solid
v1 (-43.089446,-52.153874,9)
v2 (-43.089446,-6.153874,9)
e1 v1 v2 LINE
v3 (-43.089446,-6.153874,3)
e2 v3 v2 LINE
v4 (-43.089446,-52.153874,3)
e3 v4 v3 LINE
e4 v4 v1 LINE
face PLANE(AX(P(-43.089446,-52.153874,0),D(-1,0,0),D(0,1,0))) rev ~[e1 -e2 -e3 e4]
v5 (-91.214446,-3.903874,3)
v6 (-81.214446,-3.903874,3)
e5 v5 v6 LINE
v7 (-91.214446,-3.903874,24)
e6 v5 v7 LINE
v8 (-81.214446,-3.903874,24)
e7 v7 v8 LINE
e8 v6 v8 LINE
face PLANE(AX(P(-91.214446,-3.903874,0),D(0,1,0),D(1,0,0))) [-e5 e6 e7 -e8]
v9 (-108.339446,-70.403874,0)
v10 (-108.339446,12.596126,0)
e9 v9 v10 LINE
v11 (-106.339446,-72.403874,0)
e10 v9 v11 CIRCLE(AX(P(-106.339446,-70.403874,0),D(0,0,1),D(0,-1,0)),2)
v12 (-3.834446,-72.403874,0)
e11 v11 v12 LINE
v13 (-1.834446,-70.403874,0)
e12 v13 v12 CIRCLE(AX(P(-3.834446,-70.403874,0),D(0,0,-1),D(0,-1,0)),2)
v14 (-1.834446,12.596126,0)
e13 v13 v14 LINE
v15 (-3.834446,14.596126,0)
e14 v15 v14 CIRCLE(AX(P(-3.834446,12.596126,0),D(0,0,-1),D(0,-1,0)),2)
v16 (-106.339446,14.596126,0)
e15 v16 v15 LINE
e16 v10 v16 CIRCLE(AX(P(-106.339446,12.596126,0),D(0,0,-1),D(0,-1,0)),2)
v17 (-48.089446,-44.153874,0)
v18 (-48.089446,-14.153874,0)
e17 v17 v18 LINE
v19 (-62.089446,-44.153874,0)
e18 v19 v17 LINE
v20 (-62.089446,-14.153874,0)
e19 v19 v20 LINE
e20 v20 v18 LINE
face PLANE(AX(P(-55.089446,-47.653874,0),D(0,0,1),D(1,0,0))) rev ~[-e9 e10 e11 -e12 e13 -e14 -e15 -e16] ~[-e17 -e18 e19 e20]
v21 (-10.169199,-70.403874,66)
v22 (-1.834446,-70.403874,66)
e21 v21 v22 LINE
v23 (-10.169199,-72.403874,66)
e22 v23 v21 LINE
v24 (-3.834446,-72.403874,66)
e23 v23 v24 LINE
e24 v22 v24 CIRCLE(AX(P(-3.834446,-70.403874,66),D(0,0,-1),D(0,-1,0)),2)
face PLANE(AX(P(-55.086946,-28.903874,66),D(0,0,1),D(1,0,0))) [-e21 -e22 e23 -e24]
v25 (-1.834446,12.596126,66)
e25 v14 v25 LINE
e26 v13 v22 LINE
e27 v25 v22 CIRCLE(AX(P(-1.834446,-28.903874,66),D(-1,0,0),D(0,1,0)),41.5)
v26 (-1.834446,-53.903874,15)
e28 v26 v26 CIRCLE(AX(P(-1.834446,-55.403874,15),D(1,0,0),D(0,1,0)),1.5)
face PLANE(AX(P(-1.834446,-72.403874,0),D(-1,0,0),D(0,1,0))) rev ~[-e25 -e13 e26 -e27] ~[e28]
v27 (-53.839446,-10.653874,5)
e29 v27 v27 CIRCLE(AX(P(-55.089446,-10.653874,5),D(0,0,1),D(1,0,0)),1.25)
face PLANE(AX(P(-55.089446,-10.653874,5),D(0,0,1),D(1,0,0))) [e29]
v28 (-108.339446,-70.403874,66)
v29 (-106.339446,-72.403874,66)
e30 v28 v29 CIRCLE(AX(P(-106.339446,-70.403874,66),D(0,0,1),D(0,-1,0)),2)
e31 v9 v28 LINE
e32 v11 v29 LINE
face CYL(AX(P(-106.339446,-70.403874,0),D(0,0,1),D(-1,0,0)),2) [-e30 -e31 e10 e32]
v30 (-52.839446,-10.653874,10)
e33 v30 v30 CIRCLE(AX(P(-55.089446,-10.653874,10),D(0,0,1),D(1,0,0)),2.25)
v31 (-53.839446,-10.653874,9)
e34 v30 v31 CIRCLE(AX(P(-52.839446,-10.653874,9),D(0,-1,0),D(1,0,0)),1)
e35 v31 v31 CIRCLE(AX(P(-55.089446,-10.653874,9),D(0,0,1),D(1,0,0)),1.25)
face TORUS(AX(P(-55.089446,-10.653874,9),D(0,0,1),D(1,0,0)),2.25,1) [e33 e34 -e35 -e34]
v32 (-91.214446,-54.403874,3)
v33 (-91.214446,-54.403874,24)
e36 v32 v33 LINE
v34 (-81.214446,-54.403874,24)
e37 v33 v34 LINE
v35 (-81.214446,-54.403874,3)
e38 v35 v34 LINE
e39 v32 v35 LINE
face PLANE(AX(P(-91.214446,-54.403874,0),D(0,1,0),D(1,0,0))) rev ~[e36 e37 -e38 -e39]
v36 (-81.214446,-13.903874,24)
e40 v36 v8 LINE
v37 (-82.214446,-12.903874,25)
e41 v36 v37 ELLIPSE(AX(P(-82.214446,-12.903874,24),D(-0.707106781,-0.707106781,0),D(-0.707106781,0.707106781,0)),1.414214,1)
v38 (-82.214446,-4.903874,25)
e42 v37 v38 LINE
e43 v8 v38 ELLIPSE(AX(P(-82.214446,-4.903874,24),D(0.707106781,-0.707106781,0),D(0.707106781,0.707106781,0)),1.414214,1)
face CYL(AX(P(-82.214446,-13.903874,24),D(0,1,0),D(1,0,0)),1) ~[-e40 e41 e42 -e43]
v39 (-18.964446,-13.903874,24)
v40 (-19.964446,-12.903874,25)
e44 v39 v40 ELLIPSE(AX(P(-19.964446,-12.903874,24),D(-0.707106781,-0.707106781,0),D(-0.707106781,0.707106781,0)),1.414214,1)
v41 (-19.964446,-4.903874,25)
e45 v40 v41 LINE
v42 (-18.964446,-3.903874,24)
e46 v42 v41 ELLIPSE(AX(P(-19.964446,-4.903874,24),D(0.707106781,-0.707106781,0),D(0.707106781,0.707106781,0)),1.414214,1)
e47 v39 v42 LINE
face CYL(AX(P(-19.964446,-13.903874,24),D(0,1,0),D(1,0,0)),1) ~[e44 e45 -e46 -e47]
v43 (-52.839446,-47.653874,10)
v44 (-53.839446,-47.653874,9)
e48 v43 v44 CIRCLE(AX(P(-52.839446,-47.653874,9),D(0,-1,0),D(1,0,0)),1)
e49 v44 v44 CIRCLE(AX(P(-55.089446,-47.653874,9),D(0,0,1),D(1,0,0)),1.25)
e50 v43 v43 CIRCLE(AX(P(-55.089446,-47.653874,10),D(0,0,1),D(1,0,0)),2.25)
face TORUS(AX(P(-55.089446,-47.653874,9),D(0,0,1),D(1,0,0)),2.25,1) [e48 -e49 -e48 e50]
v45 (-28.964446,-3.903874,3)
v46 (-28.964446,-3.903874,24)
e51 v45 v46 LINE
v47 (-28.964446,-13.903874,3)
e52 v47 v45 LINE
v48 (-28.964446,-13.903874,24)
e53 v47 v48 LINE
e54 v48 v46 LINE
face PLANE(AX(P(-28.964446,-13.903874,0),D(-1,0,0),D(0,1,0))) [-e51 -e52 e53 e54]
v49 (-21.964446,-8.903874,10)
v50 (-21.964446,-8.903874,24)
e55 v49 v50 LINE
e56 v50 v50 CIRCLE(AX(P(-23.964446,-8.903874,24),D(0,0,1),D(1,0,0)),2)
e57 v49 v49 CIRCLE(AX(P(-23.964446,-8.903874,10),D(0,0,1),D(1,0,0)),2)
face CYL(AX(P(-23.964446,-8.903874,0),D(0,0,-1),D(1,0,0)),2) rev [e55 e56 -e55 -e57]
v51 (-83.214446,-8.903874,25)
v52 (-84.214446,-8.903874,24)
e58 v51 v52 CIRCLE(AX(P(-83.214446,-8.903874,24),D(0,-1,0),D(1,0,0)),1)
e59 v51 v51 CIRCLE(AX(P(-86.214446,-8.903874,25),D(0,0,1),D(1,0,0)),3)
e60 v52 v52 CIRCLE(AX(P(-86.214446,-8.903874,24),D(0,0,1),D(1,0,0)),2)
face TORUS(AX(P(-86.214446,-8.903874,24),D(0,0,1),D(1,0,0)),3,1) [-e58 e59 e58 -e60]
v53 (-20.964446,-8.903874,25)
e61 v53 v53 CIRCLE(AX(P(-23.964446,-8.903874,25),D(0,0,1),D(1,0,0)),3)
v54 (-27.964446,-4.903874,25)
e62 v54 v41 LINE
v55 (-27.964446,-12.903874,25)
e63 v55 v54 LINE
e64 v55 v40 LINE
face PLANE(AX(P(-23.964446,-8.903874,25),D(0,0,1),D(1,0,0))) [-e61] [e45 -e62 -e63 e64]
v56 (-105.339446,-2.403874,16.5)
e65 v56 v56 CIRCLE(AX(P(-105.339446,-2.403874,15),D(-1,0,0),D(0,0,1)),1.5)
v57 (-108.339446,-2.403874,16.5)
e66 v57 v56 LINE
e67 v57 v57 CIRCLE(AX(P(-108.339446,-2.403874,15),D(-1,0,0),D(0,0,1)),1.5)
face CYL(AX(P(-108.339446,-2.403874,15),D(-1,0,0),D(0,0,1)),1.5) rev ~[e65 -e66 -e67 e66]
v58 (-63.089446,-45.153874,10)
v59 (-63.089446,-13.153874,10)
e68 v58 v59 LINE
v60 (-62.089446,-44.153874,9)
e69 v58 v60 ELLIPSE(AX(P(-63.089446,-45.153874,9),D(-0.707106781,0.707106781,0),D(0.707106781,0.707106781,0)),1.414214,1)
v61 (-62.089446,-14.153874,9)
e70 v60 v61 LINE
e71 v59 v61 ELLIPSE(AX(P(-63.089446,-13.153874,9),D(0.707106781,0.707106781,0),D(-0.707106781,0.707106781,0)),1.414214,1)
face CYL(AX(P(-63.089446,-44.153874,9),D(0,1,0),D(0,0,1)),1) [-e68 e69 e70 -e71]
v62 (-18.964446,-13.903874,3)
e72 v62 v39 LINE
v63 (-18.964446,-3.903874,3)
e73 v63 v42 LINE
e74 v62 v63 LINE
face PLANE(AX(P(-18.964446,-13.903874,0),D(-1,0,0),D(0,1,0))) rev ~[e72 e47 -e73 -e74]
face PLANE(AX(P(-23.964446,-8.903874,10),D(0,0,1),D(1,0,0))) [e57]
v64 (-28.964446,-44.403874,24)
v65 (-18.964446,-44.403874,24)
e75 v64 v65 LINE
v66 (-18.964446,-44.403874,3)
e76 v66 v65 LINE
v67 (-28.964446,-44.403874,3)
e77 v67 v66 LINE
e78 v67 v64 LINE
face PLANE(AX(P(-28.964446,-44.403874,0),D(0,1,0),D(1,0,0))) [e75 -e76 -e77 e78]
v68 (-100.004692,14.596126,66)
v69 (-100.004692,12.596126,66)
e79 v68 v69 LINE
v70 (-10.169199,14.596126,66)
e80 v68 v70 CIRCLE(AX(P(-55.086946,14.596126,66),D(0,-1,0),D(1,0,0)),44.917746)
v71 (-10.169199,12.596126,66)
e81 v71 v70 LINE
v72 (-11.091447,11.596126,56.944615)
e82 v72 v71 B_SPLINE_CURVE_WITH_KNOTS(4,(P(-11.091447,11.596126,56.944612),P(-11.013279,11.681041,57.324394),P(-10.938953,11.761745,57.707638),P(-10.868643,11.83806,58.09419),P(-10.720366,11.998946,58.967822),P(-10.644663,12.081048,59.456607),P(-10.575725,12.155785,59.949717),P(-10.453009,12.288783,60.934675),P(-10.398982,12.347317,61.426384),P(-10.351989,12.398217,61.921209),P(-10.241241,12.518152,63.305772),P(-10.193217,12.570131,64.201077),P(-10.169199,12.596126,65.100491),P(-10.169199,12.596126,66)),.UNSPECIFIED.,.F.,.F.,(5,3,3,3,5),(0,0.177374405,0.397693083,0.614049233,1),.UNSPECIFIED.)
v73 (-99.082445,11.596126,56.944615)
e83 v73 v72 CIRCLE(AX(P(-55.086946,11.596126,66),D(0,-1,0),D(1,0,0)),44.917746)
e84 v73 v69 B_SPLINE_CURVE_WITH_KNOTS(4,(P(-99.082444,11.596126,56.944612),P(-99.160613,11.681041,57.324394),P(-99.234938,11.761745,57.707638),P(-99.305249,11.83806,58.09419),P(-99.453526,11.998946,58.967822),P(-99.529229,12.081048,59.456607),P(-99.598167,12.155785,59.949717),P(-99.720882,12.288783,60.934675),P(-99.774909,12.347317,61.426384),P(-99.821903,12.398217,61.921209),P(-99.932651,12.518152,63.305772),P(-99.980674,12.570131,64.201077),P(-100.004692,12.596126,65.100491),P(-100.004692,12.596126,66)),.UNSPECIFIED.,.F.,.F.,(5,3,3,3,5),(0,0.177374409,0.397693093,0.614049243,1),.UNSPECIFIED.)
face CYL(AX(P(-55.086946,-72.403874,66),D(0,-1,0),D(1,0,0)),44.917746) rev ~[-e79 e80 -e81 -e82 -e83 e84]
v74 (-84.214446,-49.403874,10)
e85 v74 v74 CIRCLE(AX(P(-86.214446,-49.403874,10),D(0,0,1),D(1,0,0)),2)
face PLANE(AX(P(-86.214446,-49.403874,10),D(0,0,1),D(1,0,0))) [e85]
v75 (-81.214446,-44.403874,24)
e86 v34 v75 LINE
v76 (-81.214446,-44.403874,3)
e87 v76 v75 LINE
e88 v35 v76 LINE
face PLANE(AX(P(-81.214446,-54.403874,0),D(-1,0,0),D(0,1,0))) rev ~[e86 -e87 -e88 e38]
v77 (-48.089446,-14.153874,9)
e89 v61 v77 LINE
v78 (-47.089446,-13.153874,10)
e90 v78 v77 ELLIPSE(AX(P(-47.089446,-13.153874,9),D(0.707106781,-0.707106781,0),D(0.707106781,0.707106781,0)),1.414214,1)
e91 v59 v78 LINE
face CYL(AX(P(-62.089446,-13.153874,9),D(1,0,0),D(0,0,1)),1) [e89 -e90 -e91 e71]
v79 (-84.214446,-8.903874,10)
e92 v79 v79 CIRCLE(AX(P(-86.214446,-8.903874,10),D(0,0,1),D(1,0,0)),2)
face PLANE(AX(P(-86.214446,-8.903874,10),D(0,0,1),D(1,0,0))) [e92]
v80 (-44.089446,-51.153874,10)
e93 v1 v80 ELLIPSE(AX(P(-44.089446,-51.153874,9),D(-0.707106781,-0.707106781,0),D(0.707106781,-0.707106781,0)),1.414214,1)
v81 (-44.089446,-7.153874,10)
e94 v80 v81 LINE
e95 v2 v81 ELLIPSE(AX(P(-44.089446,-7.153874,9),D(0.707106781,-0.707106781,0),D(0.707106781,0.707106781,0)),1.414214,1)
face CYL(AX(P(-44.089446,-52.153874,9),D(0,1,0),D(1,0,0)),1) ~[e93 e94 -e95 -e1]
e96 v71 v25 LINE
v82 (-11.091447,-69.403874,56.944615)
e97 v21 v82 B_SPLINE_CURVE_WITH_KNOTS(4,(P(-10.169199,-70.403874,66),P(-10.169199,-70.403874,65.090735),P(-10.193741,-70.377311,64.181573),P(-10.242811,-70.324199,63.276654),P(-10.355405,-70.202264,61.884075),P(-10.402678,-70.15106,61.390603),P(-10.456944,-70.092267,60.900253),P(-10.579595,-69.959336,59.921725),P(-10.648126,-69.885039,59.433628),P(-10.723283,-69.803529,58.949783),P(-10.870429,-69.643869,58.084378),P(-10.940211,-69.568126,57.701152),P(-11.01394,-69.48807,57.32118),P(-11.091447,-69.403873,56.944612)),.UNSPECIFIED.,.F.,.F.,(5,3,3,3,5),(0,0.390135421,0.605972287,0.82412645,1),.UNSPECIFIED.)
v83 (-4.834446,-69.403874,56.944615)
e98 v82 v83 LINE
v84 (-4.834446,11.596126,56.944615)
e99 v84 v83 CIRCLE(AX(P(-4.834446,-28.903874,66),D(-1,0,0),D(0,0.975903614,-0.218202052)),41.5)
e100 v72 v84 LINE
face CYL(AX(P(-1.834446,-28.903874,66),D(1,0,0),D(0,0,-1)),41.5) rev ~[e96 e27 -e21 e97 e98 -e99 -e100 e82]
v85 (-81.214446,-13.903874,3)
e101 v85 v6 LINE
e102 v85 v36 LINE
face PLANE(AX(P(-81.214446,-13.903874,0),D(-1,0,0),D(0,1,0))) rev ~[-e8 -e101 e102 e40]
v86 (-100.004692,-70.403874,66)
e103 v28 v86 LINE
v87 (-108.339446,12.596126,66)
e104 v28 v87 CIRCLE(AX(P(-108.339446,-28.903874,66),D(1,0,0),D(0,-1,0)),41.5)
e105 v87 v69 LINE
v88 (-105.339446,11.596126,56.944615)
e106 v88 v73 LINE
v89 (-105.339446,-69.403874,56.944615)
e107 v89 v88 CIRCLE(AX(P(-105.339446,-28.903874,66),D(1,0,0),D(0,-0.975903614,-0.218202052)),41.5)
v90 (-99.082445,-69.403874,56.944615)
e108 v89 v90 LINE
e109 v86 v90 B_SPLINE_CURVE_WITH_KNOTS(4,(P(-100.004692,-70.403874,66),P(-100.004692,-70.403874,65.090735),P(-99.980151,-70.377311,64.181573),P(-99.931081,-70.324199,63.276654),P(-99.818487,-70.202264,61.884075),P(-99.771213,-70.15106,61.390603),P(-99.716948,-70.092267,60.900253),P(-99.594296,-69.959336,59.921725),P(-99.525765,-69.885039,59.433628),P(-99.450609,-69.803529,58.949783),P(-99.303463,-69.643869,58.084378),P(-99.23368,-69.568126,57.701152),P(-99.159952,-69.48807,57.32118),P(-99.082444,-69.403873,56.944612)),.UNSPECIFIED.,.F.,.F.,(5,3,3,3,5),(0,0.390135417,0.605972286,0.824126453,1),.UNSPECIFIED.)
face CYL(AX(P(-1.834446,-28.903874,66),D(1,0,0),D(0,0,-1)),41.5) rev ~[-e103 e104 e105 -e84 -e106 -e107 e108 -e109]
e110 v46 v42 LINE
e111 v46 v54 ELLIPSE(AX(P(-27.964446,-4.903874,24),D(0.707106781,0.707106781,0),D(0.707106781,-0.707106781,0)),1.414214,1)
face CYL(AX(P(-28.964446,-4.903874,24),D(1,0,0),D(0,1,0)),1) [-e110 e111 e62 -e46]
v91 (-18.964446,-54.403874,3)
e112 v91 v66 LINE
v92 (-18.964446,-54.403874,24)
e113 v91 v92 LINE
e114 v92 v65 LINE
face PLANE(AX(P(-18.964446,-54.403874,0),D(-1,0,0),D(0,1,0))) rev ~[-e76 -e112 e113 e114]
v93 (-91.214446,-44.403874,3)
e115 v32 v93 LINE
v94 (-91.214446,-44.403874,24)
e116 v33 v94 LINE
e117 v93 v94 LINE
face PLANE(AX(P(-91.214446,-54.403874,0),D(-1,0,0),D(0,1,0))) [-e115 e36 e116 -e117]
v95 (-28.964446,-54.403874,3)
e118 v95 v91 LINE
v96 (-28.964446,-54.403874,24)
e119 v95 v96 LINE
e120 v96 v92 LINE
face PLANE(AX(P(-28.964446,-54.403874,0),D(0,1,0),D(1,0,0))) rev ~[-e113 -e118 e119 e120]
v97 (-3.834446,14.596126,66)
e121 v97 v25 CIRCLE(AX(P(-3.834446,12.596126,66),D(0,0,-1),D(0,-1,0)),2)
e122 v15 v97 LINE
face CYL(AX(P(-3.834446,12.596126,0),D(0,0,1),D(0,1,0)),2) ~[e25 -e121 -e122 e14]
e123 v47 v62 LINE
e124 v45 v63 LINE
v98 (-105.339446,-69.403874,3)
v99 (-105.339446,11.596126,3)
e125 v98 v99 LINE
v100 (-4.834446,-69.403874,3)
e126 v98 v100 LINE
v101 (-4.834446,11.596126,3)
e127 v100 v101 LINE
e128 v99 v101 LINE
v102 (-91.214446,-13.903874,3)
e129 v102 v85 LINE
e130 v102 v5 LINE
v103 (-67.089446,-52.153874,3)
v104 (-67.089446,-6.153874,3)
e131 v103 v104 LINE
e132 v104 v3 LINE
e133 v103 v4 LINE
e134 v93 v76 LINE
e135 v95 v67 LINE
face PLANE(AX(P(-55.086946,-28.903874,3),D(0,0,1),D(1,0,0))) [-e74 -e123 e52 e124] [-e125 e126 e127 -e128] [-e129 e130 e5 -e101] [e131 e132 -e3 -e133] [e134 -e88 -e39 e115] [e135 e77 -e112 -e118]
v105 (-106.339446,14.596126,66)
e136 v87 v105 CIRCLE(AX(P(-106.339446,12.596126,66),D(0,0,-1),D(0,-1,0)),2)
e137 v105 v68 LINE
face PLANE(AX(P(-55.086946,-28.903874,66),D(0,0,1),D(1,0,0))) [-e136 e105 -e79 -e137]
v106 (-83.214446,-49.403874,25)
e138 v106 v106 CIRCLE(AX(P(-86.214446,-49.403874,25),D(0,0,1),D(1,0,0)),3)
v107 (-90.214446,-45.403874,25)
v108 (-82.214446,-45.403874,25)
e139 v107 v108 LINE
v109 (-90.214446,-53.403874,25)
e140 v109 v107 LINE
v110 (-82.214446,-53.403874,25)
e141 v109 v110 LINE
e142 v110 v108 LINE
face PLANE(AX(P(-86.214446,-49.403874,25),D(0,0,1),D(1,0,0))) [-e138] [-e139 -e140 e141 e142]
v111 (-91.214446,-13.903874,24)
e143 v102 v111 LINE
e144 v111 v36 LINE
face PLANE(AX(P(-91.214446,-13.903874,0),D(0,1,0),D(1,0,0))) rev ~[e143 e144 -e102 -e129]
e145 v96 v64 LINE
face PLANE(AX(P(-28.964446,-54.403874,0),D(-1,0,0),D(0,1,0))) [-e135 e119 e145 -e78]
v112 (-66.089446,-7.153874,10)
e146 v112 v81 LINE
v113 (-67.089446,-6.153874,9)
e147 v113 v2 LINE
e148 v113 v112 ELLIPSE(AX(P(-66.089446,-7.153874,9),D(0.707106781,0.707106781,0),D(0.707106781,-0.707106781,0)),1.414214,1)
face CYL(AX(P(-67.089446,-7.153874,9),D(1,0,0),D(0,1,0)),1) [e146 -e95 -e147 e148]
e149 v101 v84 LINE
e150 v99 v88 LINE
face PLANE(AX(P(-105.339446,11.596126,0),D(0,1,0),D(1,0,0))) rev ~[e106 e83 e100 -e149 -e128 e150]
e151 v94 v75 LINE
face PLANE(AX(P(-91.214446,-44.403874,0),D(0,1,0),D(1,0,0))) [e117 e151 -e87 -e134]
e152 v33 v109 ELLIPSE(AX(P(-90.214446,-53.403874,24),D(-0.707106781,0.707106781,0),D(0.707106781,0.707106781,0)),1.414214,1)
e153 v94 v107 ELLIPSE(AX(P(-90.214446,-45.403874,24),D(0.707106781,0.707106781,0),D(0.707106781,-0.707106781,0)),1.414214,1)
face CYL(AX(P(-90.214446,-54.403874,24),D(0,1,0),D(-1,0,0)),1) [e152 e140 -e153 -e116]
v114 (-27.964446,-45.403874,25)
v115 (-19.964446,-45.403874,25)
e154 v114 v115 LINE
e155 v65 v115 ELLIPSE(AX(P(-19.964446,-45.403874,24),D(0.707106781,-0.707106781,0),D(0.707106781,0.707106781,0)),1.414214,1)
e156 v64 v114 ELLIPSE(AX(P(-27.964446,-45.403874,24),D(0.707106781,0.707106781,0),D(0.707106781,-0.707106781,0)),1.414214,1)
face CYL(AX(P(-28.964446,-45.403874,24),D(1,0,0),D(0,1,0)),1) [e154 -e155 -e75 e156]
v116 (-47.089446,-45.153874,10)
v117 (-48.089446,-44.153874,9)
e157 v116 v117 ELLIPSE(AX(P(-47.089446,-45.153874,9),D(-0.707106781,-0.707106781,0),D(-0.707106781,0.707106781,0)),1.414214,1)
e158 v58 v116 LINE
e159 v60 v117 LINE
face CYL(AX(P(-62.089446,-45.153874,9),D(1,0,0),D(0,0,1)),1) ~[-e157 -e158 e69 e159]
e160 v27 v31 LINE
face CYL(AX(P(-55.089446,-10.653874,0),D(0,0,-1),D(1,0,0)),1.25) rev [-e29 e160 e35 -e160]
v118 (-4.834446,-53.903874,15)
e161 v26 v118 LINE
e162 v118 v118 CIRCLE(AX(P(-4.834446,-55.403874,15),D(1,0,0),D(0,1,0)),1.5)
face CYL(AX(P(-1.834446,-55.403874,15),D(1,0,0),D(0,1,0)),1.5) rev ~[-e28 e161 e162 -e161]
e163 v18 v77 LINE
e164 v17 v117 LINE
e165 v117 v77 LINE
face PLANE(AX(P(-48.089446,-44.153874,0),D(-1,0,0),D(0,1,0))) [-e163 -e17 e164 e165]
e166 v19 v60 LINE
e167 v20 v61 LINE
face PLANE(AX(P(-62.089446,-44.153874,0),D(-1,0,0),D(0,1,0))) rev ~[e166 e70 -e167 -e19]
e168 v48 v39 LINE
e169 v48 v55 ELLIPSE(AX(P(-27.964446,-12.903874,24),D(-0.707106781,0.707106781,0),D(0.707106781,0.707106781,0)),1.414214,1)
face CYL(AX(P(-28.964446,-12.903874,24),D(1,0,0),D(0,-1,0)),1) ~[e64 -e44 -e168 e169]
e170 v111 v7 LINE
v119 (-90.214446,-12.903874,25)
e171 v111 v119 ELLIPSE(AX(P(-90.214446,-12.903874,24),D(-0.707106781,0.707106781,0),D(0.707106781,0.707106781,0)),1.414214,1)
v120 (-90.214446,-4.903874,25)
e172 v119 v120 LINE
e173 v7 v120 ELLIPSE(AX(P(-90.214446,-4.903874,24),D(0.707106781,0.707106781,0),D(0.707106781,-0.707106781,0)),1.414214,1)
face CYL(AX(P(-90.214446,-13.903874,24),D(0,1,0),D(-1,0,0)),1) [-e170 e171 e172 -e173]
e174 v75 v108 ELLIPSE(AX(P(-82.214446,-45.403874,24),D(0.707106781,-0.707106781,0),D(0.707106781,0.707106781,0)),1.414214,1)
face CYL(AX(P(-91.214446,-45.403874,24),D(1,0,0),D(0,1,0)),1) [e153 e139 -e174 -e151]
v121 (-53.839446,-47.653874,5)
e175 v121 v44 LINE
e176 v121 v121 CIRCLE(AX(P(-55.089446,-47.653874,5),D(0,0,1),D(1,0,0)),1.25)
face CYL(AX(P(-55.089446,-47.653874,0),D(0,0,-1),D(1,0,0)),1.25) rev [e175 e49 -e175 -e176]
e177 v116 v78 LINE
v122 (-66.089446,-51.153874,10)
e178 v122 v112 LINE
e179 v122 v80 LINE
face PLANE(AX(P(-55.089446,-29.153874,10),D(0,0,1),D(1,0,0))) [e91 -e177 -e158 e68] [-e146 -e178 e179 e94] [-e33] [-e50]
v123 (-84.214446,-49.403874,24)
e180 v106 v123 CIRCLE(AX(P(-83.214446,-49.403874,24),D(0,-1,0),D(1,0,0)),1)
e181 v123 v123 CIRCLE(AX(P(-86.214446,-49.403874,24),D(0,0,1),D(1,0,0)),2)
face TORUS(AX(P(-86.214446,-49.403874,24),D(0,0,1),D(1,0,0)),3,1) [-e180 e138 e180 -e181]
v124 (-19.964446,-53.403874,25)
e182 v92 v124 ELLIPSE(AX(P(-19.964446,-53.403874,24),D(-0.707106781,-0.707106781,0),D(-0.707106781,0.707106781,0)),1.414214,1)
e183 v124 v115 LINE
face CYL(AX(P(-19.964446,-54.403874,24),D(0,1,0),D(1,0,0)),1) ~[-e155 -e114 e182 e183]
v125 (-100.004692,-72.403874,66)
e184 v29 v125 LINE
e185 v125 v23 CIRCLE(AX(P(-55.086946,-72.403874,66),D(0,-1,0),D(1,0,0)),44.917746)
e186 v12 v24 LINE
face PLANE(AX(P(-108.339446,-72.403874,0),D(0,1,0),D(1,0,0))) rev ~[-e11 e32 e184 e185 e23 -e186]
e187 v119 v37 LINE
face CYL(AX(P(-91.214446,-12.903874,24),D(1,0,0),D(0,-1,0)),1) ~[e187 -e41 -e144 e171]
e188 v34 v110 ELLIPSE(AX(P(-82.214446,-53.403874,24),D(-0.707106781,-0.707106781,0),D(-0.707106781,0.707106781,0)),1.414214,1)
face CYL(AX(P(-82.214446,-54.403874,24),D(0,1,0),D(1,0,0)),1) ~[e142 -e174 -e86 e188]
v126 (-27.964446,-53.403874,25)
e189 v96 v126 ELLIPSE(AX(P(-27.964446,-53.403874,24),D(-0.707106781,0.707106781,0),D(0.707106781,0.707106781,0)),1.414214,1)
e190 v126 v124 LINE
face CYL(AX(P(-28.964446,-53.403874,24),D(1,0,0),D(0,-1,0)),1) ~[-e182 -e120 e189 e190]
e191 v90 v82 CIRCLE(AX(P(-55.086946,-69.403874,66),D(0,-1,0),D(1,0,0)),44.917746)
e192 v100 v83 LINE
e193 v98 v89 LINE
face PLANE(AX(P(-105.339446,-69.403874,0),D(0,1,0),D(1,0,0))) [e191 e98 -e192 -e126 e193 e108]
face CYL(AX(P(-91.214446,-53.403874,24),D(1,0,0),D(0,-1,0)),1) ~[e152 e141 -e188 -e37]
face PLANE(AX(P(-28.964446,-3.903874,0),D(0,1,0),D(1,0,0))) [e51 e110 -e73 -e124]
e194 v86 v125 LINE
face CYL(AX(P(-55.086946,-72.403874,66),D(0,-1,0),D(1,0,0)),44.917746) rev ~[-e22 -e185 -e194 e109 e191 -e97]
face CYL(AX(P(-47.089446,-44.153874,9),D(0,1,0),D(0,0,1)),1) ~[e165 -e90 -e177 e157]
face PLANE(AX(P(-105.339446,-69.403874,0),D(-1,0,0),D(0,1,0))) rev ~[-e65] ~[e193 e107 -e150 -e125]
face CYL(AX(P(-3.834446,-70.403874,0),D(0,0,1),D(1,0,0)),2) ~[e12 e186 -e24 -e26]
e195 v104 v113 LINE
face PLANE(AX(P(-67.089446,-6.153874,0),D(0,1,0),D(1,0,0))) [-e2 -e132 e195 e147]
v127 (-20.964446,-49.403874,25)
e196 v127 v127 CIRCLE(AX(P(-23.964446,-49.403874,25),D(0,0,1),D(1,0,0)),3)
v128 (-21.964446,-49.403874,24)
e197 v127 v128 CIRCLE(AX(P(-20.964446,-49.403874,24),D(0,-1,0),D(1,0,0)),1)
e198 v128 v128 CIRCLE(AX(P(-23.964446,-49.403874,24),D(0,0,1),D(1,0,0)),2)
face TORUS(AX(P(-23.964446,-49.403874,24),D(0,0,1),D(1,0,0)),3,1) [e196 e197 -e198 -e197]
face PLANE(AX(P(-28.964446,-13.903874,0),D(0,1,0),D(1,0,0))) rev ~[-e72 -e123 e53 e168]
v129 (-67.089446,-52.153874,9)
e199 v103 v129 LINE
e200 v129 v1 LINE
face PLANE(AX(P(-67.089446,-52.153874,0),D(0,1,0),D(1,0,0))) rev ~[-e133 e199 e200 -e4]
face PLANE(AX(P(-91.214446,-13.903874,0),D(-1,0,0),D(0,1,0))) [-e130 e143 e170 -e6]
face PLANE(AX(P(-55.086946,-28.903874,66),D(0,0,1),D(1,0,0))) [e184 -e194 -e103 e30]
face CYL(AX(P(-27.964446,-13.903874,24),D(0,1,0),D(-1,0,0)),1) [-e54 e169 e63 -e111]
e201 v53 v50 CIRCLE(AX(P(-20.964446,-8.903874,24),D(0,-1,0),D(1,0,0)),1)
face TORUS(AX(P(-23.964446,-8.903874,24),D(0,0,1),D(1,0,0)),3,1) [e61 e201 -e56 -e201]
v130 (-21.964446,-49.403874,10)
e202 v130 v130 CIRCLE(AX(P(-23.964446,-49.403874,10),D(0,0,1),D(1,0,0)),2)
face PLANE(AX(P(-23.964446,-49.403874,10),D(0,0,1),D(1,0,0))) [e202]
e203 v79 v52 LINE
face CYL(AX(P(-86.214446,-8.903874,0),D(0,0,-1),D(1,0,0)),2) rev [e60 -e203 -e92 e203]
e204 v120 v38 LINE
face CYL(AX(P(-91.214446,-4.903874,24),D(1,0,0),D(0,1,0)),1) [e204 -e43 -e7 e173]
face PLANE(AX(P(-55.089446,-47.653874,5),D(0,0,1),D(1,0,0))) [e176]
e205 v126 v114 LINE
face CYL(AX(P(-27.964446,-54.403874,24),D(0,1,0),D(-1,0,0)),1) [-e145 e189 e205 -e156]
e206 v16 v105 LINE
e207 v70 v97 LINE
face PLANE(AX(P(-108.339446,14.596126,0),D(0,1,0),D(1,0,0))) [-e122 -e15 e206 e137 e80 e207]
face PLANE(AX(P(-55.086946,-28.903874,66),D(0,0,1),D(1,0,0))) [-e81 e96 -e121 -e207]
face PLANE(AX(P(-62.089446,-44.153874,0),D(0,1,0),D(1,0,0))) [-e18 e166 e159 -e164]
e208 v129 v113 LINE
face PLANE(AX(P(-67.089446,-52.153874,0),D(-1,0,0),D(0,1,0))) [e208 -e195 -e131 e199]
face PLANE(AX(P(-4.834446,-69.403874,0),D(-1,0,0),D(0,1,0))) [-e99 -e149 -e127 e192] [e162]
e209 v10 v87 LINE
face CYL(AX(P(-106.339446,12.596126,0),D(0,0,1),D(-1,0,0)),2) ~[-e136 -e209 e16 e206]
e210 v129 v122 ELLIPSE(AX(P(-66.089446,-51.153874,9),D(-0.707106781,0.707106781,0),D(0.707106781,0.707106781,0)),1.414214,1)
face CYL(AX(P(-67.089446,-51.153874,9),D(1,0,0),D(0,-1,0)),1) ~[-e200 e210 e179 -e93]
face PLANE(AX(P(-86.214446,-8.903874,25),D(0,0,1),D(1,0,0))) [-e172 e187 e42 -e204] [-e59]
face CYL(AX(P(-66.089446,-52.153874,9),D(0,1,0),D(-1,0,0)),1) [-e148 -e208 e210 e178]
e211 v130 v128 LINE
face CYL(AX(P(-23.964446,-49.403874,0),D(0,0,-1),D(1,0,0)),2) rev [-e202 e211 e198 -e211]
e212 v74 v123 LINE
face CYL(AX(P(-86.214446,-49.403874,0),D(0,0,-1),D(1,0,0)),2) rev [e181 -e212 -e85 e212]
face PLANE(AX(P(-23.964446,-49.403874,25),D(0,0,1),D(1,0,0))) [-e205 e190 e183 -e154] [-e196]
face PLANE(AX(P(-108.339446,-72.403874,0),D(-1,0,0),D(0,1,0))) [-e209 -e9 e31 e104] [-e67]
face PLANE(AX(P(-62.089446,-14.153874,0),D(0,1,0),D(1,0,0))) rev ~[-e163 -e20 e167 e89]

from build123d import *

# Parameters (mm, degrees)
ESQUISSE1_W             = 106.505
ESQUISSE1_H             = 87
ESQUISSE1_W_2           = 100.505
ESQUISSE1_H_2           = 81
BOSS_EXTRU_1_DEPTH      = 66
ESQUISSE1_35_W          = 100.505
ESQUISSE1_35_H          = 81
ESQUISSE1_35_W_2        = 10
ESQUISSE1_35_H_2        = 10
ESQUISSE1_35_W_3        = 24
ESQUISSE1_35_H_3        = 46
BOSS_EXTRU_2_DEPTH      = 3
CONG_1_R                = 2
CONG_2_R                = 2
CONG_4_R                = 2
CONG_5_R                = 2
ESQUISSE3_R             = 44.917746465
ENL_V_MAT_EXTRU_2_DEPTH = 111
ESQUISSE4_R             = 41.5
ENL_V_MAT_EXTRU_3_DEPTH = 111
ESQUISSE5_R             = 1.5
ENL_V_MAT_EXTRU_6_DEPTH = 5
ESQUISSE8_R             = 1.5
ENL_V_MAT_EXTRU_7_DEPTH = 15
ESQUISSE1_44_W          = 24
ESQUISSE1_44_H          = 46
ESQUISSE1_44_R          = 1.25
ESQUISSE1_44_W_2        = 14
ESQUISSE1_44_H_2        = 30
BOSS_EXTRU_9_DEPTH      = 10
ESQUISSE1_45_W          = 10
ESQUISSE1_45_H          = 10
ESQUISSE1_45_R          = 2
BOSS_EXTRU_10_DEPTH     = 25
ESQUISSE1_46_R          = 2
BOSS_EXTRU_11_DEPTH     = 10
ESQUISSE1_51_R          = 1.25
BOSS_EXTRU_12_DEPTH     = 5
CONG_9_R                = 1
CONG_10_R               = 1


with BuildPart() as part:
    # Esquisse1 → Boss.-Extru.1 (new body)
    with BuildSketch(Plane.XY):
        with Locations((-55.086945802, -28.903873598)):
            Rectangle(ESQUISSE1_W, ESQUISSE1_H)
        with Locations((-55.086945802, -28.903873598)):
            Rectangle(ESQUISSE1_W_2, ESQUISSE1_H_2, mode=Mode.SUBTRACT)
    extrude(amount=BOSS_EXTRU_1_DEPTH)

    # Esquisse1<35> → Boss.-Extru.2 (add)
    with BuildSketch(Plane.XY):
        with Locations((-55.086945802, -28.903873598)):
            Rectangle(ESQUISSE1_35_W, ESQUISSE1_35_H)
        with Locations((-86.214445802, -49.403873598)):
            Rectangle(ESQUISSE1_35_W_2, ESQUISSE1_35_H_2, mode=Mode.SUBTRACT)
        with Locations((-55.089445802, -29.153873598)):
            Rectangle(ESQUISSE1_35_W_3, ESQUISSE1_35_H_3, mode=Mode.SUBTRACT)
        with Locations((-23.964445802, -49.403873598)):
            Rectangle(ESQUISSE1_35_W_2, ESQUISSE1_35_H_2, mode=Mode.SUBTRACT)
        with Locations((-86.214445802, -8.903873598)):
            Rectangle(ESQUISSE1_35_W_2, ESQUISSE1_35_H_2, mode=Mode.SUBTRACT)
        with Locations((-23.964445802, -8.903873598)):
            Rectangle(ESQUISSE1_35_W_2, ESQUISSE1_35_H_2, mode=Mode.SUBTRACT)
    extrude(amount=BOSS_EXTRU_2_DEPTH)

    # Congé1
    cong_1_edges = [part.edges().sort_by_distance(p)[0] for p in [
        (-108.339445802, -72.403873598, 33),
    ]]
    fillet(cong_1_edges, radius=CONG_1_R)

    # Congé2
    cong_2_edges = [part.edges().sort_by_distance(p)[0] for p in [
        (-108.339445802, 14.596126402, 33),
    ]]
    fillet(cong_2_edges, radius=CONG_2_R)

    # Congé4
    cong_4_edges = [part.edges().sort_by_distance(p)[0] for p in [
        (-1.834445802, 14.596126402, 33),
    ]]
    fillet(cong_4_edges, radius=CONG_4_R)

    # Congé5
    cong_5_edges = [part.edges().sort_by_distance(p)[0] for p in [
        (-1.834445802, -72.403873598, 33),
    ]]
    fillet(cong_5_edges, radius=CONG_5_R)

    # Esquisse3 → Enlèv. mat.-Extru.2 (cut)
    with BuildSketch(Plane.XZ.offset(72.403873598)):
        with Locations((-55.086945802, 66)):
            Circle(ESQUISSE3_R)
    extrude(amount=-ENL_V_MAT_EXTRU_2_DEPTH, mode=Mode.SUBTRACT)

    # Esquisse4 → Enlèv. mat.-Extru.3 (cut)
    with BuildSketch(Plane(origin=(-1.834445802, 0, 0), x_dir=(0, 0, -1), z_dir=(1, 0, 0))):
        with Locations((-66, -28.903873598)):
            Circle(ESQUISSE4_R)
    extrude(amount=-ENL_V_MAT_EXTRU_3_DEPTH, mode=Mode.SUBTRACT)

    # Esquisse5 → Enlèv. mat.-Extru.6 (cut)
    with BuildSketch(Plane.ZY.offset(108.339445802)):
        with Locations((15, -2.403873598)):
            Circle(ESQUISSE5_R)
    extrude(amount=-ENL_V_MAT_EXTRU_6_DEPTH, mode=Mode.SUBTRACT)

    # Esquisse8 → Enlèv. mat.-Extru.7 (cut)
    with BuildSketch(Plane(origin=(-1.834445802, 0, 0), x_dir=(0, 0, -1), z_dir=(1, 0, 0))):
        with Locations((-15, -55.403873598)):
            Circle(ESQUISSE8_R)
    extrude(amount=-ENL_V_MAT_EXTRU_7_DEPTH, mode=Mode.SUBTRACT)

    # Esquisse1<44> → Boss.-Extru.9 (add)
    with BuildSketch(Plane.XY):
        with Locations((-55.089445802, -29.153873598)):
            Rectangle(ESQUISSE1_44_W, ESQUISSE1_44_H)
        with Locations((-55.089445802, -47.653873598)):
            Circle(ESQUISSE1_44_R, mode=Mode.SUBTRACT)
        with Locations((-55.089445802, -29.153873598)):
            Rectangle(ESQUISSE1_44_W_2, ESQUISSE1_44_H_2, mode=Mode.SUBTRACT)
        with Locations((-55.089445802, -10.653873598)):
            Circle(ESQUISSE1_44_R, mode=Mode.SUBTRACT)
    extrude(amount=BOSS_EXTRU_9_DEPTH)

    # Esquisse1<45> → Boss.-Extru.10 (add)
    # profile 1 of 4: a face of its own
    with BuildSketch(Plane.XY):
        with Locations((-86.214445802, -8.903873598)):
            Rectangle(ESQUISSE1_45_W, ESQUISSE1_45_H)
        with Locations((-86.214445802, -8.903873598)):
            Circle(ESQUISSE1_45_R, mode=Mode.SUBTRACT)
    # profile 2 of 4: a face of its own
    with BuildSketch(Plane.XY):
        with Locations((-23.964445802, -8.903873598)):
            Rectangle(ESQUISSE1_45_W, ESQUISSE1_45_H)
        with Locations((-23.964445802, -8.903873598)):
            Circle(ESQUISSE1_45_R, mode=Mode.SUBTRACT)
    # profile 3 of 4: a face of its own
    with BuildSketch(Plane.XY):
        with Locations((-23.964445802, -49.403873598)):
            Rectangle(ESQUISSE1_45_W, ESQUISSE1_45_H)
        with Locations((-23.964445802, -49.403873598)):
            Circle(ESQUISSE1_45_R, mode=Mode.SUBTRACT)
    # profile 4 of 4: a face of its own
    with BuildSketch(Plane.XY):
        with Locations((-86.214445802, -49.403873598)):
            Rectangle(ESQUISSE1_45_W, ESQUISSE1_45_H)
        with Locations((-86.214445802, -49.403873598)):
            Circle(ESQUISSE1_45_R, mode=Mode.SUBTRACT)
    extrude(amount=BOSS_EXTRU_10_DEPTH)

    # Esquisse1<46> → Boss.-Extru.11 (add)
    with BuildSketch(Plane.XY):
        with Locations((-86.214445802, -8.903873598)):
            Circle(ESQUISSE1_46_R)
        with Locations((-23.964445802, -8.903873598)):
            Circle(ESQUISSE1_46_R)
        with Locations((-86.214445802, -49.403873598)):
            Circle(ESQUISSE1_46_R)
        with Locations((-23.964445802, -49.403873598)):
            Circle(ESQUISSE1_46_R)
    extrude(amount=BOSS_EXTRU_11_DEPTH)

    # Esquisse1<51> → Boss.-Extru.12 (add)
    with BuildSketch(Plane.XY):
        with Locations((-55.089445802, -47.653873598)):
            Circle(ESQUISSE1_51_R)
        with Locations((-55.089445802, -10.653873598)):
            Circle(ESQUISSE1_51_R)
    extrude(amount=BOSS_EXTRU_12_DEPTH)

    # Congé9
    cong_9_edges = [part.edges().sort_by_distance(p)[0] for p in [
        (-86.214445802, -54.403873598, 25),
        (-91.214445802, -49.403873598, 25),
        (-86.214445802, -44.403873598, 25),
        (-81.214445802, -49.403873598, 25),
        (-88.214445802, -49.403873598, 25),
        (-86.214445802, -13.903873598, 25),
        (-91.214445802, -8.903873598, 25),
        (-86.214445802, -3.903873598, 25),
        (-81.214445802, -8.903873598, 25),
        (-88.214445802, -8.903873598, 25),
        (-23.964445802, -54.403873598, 25),
        (-28.964445802, -49.403873598, 25),
        (-23.964445802, -44.403873598, 25),
        (-18.964445802, -49.403873598, 25),
        (-25.964445802, -49.403873598, 25),
        (-23.964445802, -13.903873598, 25),
        (-28.964445802, -8.903873598, 25),
        (-23.964445802, -3.903873598, 25),
        (-18.964445802, -8.903873598, 25),
        (-25.964445802, -8.903873598, 25),
    ]]
    fillet(cong_9_edges, radius=CONG_9_R)

    # Congé10
    cong_10_edges = [part.edges().sort_by_distance(p)[0] for p in [
        (-67.089445802, -29.153873598, 10),
        (-55.089445802, -6.153873598, 10),
        (-43.089445802, -29.153873598, 10),
        (-55.089445802, -52.153873598, 10),
        (-55.089445802, -44.153873598, 10),
        (-48.089445802, -29.153873598, 10),
        (-55.089445802, -14.153873598, 10),
        (-62.089445802, -29.153873598, 10),
        (-56.339445802, -47.653873598, 10),
        (-56.339445802, -10.653873598, 10),
    ]]
    fillet(cong_10_edges, radius=CONG_10_R)


solid = part.part
